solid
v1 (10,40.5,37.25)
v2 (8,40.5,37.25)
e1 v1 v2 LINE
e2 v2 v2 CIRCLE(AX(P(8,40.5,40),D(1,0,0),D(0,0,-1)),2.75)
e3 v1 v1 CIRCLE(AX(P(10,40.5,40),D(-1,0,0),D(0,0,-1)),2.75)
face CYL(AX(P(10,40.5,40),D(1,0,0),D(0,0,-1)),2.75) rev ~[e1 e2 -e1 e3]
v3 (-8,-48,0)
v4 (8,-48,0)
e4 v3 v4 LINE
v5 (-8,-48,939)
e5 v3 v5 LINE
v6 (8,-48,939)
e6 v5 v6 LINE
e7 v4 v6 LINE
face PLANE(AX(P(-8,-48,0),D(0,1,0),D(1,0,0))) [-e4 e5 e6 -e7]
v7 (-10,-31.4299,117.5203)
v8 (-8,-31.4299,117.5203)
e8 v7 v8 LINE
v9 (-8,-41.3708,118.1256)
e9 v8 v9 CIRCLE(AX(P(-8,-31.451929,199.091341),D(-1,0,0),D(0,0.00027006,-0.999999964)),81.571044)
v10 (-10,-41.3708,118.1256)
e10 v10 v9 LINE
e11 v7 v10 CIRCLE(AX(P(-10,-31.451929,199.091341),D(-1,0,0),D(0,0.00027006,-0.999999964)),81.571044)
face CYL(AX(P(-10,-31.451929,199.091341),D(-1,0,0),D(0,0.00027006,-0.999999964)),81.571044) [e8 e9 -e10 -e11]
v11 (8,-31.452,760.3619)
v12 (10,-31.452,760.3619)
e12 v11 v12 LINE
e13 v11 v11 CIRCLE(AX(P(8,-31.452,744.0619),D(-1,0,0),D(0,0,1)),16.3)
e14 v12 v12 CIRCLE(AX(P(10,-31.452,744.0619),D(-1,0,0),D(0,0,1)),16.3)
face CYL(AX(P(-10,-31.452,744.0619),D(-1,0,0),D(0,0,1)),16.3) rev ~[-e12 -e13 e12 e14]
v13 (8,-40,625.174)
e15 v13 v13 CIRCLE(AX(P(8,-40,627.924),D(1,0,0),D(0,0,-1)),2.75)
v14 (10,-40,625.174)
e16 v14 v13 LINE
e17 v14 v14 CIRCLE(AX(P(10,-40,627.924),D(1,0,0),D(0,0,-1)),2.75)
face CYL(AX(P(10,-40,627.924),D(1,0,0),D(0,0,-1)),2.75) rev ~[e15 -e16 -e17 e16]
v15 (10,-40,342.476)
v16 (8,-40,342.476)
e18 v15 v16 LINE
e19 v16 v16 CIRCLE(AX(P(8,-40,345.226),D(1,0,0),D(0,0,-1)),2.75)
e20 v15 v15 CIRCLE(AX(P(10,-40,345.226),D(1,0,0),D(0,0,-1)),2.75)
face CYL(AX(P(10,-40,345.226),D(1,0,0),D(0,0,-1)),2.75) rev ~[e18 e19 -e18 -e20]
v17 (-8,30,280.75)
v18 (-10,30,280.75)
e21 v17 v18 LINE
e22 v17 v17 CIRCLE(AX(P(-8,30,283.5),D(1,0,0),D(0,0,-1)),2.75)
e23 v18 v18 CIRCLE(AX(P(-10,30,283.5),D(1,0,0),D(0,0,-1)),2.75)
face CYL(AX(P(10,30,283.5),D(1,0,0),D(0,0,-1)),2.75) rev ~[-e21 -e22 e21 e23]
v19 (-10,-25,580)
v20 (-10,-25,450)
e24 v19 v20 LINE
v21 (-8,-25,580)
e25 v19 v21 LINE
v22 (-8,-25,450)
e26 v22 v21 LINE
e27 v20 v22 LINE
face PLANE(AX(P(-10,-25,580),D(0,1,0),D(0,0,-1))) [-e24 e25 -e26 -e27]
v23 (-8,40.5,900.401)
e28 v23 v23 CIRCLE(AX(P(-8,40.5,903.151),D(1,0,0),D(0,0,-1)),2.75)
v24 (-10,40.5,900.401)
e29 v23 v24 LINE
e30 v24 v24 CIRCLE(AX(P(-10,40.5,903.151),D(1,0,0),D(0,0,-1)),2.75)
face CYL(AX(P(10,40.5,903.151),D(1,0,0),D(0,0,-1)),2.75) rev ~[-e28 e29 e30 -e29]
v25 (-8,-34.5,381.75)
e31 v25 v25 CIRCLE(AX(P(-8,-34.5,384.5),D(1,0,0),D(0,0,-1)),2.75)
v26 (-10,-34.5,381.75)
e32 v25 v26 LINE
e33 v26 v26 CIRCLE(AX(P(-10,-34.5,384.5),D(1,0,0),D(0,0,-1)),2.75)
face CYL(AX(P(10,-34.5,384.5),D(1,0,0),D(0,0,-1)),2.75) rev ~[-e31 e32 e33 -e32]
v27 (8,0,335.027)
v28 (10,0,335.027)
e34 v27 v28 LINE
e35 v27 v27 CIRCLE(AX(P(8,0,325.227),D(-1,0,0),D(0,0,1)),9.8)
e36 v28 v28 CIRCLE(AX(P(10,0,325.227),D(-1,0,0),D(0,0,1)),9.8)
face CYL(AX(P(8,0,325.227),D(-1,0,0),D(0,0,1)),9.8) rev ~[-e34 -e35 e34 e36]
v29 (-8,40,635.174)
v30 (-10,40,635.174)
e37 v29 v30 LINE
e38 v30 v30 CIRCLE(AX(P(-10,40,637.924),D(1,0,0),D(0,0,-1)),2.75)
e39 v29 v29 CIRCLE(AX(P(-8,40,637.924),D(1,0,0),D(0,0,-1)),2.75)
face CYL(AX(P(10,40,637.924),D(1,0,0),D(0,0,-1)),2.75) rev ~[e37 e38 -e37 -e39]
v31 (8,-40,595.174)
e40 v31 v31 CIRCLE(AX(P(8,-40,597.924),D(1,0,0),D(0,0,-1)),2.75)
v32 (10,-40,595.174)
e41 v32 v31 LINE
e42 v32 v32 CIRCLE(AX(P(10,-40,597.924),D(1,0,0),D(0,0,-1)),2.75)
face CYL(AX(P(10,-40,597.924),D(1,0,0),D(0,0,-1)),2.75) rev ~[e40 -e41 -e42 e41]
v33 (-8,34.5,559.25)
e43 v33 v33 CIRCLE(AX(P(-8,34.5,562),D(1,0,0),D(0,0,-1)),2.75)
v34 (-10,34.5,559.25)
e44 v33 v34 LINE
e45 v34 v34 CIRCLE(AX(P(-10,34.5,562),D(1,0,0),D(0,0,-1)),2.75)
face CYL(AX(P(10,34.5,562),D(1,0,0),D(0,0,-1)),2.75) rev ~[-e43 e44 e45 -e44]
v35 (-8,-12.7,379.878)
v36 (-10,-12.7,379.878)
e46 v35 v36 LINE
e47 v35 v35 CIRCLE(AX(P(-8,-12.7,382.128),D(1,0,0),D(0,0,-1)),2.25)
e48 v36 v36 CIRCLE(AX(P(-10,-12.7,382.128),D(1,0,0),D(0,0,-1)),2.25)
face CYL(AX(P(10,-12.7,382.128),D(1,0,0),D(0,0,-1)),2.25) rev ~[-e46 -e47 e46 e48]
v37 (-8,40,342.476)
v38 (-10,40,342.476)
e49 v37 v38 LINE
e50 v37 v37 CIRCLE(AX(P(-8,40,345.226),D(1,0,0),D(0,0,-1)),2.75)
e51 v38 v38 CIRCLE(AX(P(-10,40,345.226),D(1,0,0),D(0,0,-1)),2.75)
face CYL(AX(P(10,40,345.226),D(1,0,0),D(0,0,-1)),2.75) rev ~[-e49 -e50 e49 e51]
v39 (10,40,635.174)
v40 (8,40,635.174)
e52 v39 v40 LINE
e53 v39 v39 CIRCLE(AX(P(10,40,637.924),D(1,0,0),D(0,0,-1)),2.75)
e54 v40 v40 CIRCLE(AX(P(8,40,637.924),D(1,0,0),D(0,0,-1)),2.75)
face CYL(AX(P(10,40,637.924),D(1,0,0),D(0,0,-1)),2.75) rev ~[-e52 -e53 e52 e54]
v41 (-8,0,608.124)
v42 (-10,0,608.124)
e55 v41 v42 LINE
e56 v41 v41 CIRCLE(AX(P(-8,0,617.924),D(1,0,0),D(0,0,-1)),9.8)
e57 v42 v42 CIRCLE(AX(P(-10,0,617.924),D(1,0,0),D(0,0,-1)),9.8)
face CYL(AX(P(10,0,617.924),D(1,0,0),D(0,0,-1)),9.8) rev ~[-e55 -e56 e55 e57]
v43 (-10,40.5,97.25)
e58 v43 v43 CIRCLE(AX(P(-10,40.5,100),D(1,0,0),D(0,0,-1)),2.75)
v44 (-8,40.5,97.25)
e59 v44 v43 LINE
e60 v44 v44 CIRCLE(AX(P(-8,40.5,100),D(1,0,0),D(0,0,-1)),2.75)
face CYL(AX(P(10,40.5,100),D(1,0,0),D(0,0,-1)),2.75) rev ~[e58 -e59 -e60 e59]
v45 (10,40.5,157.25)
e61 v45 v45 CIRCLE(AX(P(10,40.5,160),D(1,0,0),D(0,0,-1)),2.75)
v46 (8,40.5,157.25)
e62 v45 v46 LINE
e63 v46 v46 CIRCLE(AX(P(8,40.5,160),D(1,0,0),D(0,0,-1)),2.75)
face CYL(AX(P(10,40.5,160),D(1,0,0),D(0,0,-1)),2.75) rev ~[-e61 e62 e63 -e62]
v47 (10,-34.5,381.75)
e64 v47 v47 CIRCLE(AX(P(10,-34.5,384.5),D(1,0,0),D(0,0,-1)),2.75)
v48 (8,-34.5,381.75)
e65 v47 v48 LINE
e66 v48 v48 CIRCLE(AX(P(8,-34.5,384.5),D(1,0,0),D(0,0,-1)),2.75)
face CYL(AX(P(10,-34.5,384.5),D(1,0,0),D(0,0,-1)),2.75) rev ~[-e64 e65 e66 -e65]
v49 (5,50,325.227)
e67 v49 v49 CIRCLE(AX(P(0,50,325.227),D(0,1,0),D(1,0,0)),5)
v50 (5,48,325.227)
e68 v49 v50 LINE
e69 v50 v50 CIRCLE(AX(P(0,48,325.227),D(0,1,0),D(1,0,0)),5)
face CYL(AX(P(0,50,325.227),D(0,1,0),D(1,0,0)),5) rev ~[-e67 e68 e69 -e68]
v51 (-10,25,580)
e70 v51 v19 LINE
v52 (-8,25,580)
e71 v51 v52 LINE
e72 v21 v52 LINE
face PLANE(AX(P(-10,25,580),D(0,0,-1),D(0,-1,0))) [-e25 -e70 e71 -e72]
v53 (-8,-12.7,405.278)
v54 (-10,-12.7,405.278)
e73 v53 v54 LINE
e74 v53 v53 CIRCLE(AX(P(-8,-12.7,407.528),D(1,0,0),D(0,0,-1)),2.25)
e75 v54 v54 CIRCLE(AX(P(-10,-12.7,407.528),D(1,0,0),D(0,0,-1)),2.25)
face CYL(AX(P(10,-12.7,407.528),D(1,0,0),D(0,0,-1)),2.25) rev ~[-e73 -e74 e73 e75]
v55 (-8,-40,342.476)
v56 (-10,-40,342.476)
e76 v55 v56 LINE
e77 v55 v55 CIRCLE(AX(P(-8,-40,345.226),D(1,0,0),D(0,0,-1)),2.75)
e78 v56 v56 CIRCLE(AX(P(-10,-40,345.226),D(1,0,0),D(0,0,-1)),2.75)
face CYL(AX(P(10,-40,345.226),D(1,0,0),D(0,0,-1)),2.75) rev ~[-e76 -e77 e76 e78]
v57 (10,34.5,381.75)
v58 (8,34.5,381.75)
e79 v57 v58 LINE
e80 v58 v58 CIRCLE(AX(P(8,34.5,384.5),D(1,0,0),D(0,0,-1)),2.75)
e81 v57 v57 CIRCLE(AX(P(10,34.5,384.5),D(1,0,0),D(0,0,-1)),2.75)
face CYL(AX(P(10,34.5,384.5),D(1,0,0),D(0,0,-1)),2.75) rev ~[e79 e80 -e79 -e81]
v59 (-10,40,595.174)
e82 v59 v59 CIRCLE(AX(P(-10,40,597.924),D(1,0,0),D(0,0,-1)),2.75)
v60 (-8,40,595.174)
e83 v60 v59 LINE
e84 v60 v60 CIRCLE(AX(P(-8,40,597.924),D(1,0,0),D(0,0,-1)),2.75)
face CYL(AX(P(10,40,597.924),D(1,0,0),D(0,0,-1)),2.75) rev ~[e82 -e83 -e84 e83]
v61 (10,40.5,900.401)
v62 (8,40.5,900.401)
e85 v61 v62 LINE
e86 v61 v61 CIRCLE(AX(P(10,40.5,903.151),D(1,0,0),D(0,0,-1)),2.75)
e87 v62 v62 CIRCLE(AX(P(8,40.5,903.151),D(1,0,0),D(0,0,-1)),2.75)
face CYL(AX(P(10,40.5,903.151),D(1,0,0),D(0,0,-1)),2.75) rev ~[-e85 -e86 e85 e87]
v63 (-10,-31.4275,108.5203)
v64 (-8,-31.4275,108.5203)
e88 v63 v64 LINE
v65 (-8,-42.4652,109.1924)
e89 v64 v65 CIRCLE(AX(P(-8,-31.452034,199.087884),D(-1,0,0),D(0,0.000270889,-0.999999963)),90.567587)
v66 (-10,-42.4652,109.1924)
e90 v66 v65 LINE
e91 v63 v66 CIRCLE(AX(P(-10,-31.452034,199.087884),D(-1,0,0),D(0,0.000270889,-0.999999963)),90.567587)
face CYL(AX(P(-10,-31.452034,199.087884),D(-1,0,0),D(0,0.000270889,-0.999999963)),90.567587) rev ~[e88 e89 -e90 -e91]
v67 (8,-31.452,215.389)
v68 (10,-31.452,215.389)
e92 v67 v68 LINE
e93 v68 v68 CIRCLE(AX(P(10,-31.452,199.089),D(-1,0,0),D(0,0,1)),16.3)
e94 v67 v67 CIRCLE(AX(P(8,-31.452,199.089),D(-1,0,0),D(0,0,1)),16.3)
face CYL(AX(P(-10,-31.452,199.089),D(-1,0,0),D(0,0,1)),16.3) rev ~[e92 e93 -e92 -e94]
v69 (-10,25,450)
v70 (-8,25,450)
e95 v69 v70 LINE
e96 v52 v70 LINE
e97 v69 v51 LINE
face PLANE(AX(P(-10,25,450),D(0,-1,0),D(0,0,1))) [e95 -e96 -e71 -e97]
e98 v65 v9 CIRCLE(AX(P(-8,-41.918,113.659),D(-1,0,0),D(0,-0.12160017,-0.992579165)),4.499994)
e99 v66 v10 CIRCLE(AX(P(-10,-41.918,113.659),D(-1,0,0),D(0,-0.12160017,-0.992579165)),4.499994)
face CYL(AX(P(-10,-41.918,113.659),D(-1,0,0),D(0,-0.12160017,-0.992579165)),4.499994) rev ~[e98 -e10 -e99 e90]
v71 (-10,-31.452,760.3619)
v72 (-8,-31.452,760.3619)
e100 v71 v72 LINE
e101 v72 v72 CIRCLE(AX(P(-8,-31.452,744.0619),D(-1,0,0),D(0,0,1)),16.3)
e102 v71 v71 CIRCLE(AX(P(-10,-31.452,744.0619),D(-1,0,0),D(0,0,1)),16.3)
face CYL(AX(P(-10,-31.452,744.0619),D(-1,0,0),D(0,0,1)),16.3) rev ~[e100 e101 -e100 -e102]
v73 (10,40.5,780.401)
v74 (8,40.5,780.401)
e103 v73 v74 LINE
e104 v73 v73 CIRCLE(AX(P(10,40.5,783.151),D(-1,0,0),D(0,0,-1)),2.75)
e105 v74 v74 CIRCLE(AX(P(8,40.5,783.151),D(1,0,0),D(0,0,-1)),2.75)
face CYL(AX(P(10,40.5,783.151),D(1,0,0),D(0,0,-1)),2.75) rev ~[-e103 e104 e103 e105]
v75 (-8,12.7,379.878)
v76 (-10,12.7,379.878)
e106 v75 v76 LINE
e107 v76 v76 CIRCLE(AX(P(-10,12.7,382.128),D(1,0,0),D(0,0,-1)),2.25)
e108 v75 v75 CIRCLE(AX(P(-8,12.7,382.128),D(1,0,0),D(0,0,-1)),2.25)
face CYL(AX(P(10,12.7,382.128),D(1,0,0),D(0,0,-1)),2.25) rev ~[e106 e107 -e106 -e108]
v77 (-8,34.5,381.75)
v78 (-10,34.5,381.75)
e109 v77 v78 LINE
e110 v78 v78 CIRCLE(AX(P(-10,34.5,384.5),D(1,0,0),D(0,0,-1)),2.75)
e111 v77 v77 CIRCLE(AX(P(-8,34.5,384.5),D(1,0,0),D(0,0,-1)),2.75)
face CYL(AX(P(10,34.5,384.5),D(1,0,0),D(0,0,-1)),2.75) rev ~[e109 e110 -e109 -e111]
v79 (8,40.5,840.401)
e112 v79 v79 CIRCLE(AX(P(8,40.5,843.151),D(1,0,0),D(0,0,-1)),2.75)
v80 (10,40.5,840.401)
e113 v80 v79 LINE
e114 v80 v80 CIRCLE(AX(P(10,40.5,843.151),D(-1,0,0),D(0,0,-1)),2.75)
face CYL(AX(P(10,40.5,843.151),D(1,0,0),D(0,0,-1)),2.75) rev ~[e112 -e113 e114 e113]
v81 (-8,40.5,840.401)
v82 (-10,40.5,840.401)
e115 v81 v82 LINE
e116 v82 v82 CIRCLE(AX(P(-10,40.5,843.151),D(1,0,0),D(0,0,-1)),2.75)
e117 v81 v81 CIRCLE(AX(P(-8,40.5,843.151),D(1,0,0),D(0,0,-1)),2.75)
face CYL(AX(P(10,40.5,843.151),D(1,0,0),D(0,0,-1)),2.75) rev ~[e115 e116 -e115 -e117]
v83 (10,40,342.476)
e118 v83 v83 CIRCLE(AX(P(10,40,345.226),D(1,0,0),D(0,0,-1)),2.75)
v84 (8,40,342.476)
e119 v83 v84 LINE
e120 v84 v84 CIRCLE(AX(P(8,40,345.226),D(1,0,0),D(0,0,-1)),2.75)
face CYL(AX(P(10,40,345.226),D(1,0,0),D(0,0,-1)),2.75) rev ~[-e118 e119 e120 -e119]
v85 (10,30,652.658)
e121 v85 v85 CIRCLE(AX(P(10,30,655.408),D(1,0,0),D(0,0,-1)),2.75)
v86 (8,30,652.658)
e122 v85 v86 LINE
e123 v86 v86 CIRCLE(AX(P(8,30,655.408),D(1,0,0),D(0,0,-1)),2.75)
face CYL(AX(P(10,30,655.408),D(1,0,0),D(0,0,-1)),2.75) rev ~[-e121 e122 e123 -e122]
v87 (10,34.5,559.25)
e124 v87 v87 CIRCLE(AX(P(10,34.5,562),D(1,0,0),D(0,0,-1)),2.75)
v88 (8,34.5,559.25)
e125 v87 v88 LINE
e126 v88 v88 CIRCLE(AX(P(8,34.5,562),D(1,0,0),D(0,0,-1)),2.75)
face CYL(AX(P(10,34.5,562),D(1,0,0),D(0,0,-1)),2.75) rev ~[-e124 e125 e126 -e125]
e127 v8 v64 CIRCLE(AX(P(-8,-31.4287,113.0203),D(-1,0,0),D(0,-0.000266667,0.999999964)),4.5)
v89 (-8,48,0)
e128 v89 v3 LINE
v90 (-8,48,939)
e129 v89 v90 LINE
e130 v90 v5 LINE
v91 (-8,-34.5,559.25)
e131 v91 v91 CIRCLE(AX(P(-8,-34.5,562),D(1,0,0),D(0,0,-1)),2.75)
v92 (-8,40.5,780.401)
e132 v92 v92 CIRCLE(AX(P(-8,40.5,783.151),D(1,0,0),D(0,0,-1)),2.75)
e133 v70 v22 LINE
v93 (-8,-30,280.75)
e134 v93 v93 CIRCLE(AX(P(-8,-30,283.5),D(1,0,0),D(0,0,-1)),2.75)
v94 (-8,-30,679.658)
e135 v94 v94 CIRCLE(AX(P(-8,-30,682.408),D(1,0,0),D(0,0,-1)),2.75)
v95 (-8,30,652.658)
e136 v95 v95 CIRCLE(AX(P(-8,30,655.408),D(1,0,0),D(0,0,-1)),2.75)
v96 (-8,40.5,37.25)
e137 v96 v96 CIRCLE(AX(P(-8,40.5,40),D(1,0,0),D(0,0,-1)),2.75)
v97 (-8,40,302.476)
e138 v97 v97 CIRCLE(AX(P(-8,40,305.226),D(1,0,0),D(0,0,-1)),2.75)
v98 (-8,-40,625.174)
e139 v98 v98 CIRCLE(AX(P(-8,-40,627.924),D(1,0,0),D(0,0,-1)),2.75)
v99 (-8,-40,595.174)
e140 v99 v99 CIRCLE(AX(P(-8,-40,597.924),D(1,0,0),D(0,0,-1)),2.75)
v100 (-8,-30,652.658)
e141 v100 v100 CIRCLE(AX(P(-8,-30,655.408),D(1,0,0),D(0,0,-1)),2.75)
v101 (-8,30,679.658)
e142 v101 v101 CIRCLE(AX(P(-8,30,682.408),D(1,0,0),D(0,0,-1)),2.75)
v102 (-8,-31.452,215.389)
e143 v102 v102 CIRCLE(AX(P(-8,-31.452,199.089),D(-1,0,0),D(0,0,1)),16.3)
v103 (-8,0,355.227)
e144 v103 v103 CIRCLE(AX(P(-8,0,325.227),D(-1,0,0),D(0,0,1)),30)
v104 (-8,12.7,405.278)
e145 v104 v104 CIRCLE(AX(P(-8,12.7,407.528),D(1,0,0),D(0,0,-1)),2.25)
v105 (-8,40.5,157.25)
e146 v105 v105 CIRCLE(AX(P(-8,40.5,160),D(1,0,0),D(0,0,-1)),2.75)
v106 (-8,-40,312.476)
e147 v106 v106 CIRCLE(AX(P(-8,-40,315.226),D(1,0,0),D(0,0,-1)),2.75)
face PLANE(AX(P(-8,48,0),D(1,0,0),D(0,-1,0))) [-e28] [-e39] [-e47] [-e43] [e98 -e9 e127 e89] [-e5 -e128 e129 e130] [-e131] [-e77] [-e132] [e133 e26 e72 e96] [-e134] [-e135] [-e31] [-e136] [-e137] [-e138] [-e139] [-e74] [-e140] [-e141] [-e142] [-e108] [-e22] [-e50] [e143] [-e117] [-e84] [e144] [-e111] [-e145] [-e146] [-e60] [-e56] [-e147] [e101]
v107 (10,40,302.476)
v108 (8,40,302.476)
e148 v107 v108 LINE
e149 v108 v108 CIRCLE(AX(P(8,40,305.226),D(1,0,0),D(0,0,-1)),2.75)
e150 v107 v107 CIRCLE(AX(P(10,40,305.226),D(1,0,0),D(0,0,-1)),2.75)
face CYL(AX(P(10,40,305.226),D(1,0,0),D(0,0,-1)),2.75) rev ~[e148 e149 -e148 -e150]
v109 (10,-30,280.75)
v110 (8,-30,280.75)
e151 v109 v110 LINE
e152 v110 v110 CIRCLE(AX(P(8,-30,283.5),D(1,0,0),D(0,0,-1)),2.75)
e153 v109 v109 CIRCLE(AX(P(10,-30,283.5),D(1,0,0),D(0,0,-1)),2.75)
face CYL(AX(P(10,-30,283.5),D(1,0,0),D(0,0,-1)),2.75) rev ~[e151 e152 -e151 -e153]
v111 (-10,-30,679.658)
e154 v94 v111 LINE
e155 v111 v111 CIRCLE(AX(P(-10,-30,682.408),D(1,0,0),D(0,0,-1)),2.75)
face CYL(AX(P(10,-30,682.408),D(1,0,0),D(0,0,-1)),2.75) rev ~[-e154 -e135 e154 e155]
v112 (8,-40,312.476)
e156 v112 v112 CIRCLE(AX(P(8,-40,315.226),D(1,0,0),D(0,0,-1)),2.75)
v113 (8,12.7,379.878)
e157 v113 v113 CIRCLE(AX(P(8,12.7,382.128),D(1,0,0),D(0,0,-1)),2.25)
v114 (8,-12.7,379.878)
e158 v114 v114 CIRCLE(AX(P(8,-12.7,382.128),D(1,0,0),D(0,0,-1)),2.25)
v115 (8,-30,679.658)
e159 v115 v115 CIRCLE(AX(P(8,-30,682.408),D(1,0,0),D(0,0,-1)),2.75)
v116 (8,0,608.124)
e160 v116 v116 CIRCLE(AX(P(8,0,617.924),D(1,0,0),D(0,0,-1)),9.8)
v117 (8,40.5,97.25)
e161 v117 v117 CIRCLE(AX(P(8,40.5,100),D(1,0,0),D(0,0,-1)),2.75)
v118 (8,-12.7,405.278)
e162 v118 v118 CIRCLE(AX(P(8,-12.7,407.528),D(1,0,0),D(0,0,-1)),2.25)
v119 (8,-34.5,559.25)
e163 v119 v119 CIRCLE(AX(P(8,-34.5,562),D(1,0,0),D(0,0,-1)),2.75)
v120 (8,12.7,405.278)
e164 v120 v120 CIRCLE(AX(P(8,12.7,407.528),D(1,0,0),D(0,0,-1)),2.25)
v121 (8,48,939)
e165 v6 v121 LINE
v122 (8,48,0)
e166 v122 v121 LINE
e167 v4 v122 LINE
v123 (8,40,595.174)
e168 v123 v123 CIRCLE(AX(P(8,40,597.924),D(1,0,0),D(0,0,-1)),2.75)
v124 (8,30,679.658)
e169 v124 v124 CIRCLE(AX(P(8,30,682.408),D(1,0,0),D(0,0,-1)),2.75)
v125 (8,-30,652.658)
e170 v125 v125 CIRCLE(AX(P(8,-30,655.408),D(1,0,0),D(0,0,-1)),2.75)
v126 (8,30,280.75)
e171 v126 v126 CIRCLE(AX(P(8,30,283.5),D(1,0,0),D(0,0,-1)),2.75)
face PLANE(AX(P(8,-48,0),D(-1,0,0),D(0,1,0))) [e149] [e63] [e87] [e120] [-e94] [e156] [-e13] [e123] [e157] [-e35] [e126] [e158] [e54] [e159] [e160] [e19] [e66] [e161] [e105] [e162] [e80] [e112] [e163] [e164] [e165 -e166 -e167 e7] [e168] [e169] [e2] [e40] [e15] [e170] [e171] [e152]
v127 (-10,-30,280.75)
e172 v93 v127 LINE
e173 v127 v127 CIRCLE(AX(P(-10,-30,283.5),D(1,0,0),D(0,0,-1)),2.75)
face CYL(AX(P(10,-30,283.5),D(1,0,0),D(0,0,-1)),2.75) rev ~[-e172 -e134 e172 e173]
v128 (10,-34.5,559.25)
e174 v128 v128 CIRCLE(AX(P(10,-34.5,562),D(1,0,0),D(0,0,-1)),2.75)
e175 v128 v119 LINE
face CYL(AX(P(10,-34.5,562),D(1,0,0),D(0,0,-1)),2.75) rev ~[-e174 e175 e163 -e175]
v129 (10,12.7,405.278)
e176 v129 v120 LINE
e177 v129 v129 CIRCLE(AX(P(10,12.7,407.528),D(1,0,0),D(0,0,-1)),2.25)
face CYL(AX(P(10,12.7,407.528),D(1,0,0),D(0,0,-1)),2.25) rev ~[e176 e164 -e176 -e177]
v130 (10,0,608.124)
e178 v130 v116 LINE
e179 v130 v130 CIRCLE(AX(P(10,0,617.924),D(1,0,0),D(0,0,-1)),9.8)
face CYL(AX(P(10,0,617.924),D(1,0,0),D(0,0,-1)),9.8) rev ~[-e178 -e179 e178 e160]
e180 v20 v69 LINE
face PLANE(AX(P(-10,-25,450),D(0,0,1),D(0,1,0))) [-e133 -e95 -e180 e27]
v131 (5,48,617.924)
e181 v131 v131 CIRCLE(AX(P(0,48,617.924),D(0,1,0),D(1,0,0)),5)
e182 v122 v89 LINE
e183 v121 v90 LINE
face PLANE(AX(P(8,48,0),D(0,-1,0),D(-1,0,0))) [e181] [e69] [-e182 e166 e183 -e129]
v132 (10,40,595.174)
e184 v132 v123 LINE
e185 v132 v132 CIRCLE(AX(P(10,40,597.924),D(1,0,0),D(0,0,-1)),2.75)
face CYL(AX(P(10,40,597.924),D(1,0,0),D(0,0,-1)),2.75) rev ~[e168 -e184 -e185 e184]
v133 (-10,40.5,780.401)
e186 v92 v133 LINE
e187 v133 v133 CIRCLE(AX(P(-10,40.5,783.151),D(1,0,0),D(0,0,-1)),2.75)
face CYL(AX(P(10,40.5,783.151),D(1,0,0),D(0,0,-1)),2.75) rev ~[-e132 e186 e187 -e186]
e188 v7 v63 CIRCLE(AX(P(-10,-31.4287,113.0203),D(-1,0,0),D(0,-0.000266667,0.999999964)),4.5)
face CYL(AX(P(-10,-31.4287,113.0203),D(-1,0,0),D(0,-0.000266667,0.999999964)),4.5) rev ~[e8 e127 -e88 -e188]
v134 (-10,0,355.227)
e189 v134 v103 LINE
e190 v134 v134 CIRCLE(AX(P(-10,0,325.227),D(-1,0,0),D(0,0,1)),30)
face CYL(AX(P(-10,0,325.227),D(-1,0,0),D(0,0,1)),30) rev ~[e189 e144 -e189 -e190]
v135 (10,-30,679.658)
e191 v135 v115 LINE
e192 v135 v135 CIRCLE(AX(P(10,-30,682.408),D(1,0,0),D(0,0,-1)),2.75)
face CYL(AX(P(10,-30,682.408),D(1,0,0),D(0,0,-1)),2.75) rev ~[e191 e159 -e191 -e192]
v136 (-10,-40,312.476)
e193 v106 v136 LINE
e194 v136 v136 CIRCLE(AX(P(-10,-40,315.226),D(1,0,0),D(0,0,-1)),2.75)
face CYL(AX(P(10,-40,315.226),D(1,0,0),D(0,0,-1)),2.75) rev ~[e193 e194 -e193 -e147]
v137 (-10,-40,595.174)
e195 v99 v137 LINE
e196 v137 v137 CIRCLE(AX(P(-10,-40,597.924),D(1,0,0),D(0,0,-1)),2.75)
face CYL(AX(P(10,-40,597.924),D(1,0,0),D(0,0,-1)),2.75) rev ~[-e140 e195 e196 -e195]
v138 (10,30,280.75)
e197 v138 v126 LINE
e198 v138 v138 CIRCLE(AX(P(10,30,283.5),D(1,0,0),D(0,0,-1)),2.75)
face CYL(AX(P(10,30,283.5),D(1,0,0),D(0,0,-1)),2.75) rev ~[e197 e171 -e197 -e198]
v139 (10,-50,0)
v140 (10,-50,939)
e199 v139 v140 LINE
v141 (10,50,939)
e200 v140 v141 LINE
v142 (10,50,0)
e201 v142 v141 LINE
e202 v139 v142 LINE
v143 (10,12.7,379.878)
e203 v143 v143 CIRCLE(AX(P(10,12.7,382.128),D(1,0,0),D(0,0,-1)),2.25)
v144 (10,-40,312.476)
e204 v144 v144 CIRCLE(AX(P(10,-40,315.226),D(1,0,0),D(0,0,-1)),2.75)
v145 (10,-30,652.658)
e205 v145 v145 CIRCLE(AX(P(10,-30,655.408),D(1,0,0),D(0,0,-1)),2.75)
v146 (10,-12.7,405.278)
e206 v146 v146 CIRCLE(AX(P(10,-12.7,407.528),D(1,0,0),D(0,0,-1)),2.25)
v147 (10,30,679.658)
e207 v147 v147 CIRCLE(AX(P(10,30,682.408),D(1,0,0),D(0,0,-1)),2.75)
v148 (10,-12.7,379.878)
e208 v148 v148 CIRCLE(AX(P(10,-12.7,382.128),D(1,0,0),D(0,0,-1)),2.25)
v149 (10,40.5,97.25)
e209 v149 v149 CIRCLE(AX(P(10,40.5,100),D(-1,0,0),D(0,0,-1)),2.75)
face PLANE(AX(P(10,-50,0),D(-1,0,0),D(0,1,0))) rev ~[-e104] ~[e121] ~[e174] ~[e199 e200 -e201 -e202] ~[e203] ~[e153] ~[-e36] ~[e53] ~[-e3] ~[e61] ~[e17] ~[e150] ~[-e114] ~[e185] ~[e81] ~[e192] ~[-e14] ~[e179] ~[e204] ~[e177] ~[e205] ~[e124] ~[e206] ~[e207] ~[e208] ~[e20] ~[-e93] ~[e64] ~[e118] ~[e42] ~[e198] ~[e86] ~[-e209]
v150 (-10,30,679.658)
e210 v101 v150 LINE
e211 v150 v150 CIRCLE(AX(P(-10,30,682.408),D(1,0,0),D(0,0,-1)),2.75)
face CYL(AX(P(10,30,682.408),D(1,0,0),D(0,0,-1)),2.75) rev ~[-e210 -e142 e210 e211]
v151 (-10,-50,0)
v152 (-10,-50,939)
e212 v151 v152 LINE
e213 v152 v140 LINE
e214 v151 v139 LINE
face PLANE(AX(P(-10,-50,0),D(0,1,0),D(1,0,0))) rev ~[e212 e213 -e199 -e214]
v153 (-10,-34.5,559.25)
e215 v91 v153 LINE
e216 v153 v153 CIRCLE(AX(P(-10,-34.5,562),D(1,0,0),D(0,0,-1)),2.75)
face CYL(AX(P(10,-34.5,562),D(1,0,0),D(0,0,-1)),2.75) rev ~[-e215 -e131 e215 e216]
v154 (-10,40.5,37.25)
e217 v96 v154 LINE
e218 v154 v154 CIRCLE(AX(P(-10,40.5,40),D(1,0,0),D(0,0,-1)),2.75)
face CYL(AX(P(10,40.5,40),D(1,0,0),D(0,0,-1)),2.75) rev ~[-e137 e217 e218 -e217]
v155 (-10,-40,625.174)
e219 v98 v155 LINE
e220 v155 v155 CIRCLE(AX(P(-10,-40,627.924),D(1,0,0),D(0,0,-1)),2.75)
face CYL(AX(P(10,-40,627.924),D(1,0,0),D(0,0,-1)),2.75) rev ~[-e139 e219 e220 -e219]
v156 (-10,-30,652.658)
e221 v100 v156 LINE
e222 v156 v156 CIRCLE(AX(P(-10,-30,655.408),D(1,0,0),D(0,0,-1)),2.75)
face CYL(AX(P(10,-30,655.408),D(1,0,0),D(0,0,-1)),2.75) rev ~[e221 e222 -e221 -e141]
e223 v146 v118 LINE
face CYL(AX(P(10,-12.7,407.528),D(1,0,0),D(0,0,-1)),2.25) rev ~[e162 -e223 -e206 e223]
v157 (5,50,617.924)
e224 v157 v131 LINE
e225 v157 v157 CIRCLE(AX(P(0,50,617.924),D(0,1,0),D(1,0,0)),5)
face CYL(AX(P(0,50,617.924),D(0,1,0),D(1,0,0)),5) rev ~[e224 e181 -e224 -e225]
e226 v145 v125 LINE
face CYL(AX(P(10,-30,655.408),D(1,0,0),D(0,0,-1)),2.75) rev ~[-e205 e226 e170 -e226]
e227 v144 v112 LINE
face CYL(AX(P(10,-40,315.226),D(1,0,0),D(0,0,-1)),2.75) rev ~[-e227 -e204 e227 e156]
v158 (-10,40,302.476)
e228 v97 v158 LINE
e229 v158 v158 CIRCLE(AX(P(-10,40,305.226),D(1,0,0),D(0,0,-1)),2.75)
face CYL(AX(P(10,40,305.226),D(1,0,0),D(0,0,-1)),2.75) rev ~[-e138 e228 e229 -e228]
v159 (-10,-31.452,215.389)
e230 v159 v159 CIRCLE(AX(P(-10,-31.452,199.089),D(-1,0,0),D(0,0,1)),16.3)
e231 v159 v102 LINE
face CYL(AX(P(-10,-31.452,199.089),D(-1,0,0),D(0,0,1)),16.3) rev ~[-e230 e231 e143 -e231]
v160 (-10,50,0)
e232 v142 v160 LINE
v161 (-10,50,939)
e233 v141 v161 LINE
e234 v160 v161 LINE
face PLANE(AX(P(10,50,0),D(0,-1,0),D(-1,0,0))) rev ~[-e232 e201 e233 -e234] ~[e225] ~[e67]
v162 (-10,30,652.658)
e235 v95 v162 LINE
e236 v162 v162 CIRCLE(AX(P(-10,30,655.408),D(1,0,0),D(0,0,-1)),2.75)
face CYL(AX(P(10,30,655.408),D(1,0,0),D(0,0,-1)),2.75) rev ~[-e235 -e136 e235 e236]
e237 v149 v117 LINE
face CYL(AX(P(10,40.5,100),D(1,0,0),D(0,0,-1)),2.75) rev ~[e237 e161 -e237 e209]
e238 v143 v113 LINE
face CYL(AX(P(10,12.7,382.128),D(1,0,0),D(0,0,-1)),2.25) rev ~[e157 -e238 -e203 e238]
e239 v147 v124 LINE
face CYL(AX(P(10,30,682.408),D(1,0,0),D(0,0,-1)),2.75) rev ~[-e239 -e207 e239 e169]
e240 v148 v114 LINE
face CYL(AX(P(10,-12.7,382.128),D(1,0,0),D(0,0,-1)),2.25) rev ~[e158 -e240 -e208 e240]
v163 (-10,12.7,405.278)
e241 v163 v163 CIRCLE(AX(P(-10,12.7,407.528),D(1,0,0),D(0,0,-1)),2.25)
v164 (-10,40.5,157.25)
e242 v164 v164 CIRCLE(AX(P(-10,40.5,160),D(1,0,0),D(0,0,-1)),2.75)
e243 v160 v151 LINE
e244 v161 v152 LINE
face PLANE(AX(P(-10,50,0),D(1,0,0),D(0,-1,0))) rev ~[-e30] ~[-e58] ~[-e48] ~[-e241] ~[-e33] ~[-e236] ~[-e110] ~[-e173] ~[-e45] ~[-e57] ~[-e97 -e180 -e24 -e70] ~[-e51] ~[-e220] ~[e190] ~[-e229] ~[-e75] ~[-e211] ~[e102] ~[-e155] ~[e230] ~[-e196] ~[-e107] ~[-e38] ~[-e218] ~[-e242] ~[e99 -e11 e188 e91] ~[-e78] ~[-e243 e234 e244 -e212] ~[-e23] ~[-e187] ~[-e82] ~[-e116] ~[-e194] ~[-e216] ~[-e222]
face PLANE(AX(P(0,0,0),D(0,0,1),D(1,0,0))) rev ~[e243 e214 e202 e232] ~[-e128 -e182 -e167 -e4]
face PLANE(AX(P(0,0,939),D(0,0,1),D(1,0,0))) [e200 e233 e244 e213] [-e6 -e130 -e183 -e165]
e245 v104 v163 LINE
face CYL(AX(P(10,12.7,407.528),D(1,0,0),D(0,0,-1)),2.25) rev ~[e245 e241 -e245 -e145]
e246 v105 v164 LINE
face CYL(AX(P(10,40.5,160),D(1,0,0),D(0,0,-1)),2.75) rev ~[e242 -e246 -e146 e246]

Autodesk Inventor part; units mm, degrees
ref_plane "YZ Plane" through (0, 0, 0) normal (1, 0, 0) x (0, 1, 0)
ref_plane "XZ Plane" through (0, 0, 0) normal (0, 1, 0) x (-1, 0, 0)
ref_plane "XY Plane" through (0, 0, 0) normal (0, 0, 1) x (1, 0, 0)
sketch "Sketch1" plane through (0, 0, 0) normal (0, 0, 1) x (1, 0, 0)
  line L0 (-10, -50) -> (10, -50)
  line L1 (10, -50) -> (10, 50)
  line L2 (10, 50) -> (-10, 50)
  line L3 (-10, 50) -> (-10, -50)
  line L4 (-10, -50) -> (10, 50) construction
  line L5 (10, -50) -> (-10, 50) construction
  line L6 (-8, -48) -> (8, -48)
  line L7 (8, -48) -> (8, 48)
  line L8 (8, 48) -> (-8, 48)
  line L9 (-8, 48) -> (-8, -48)
  line L10 (-8, -48) -> (8, 48) construction
  line L11 (8, -48) -> (-8, 48) construction
  point P0 (0, 0)
  dimension "d0" = 20
  dimension "d1" = 100
  dimension "d2" = 16
  dimension "d3" = 96
extrude "Extrusion1" add sketch "Sketch1" along normal blind 939
sketch "Sketch2" plane through (-10, -50, 0) normal (-1, 0, 0) x (0, 0, 1)
  circle A0 centre (199.089, 18.548) radius 16.3
  line L0 (0, 100) -> (939, 100) projected
  line L1 (0, 100) -> (0, 0) projected
  line L2 (0, 0) -> (939, 0) projected
  point P0 (0, 50)
  dimension "d6" = 32.6
  dimension "HoleDistanceX" = 199.089
  dimension "d11" = 18.548
extrude "Extrusion2" cut sketch "Sketch2" against normal blind 880
sketch "Sketch4" plane through (-10, -50, 0) normal (-1, 0, 0) x (0, 0, 1)
  circle A0 centre (113.659, 8.082) radius 4.5 construction
  circle A1 centre (199.089, 18.548) radius 12.25 construction
  line L0 (199.089, 18.548) -> (113.659, 8.082) construction
  line L1 (199.089, 18.548) -> (113.0203, 18.5713) construction
  circle A2 centre (113.0203, 18.5713) radius 4.5 construction
  arc A3 (113.0203, 18.5713) -> (113.659, 8.082) centre (199.089, 18.548) ccw construction
  arc A4 (113.0203, 18.5713) -> (113.659, 8.082) centre (199.089, 18.548) ccw construction
  arc A5 (108.5203, 18.5725) -> (109.1924, 7.5348) centre (199.089, 18.548) ccw
  arc A6 (117.5203, 18.5701) -> (118.1256, 8.6292) centre (199.089, 18.548) ccw
  arc A7 (117.5203, 18.5701) -> (108.5203, 18.5725) centre (113.0203, 18.5713) ccw
  arc A8 (109.1924, 7.5348) -> (118.1256, 8.6292) centre (113.659, 8.082) ccw
  line L2 (0, 0) -> (939, 0) projected
  line L3 (0, 100) -> (0, 0) projected
  point P0 (0, 50)
  dimension "d12" = 9
  dimension "d13" = 9
  dimension "d14" = 9
  dimension "d15" = 7
  dimension "d16" = 8.082
  dimension "d17" = 113.659
extrude "Extrusion3" cut sketch "Sketch4" against normal blind 3
sketch "Sketch5" plane through (-10, -50, 0) normal (-1, 0, 0) x (0, 0, 1)
  circle A0 centre (325.227, 50) radius 30
  line L0 (0, 100) -> (0, 0) projected
  line L1 (0, 0) -> (939, 0) projected
  point P0 (0, 50)
  dimension "d20" = 60
  dimension "d21" = 325.227
  dimension "d22" = 50
extrude "Extrusion4" cut sketch "Sketch5" against normal blind 3
sketch "Sketch6" plane through (-10, -50, 0) normal (-1, 0, 0) x (0, 0, 1)
  line L0 (450, 75) -> (580, 75)
  line L1 (580, 75) -> (580, 25)
  line L2 (580, 25) -> (450, 25)
  line L3 (450, 25) -> (450, 75)
  line L4 (0, 100) -> (939, 100) projected
  line L5 (0, 100) -> (0, 0) projected
  point P0 (0, 50)
  dimension "d25" = 50
  dimension "d26" = 25
  dimension "d27" = 580
  dimension "d28" = 450
extrude "Extrusion5" cut sketch "Sketch6" against normal blind 3
sketch "Sketch7" plane through (8, -48, 0) normal (-1, 0, 0) x (0, 0, 1)
  circle A0 centre (325.227, 48) radius 30 projected
  circle A1 centre (325.227, 48) radius 9.8
  point P0 (0, 48)
  dimension "d31" = 19.6
extrude "Extrusion6" cut sketch "Sketch7" against normal through all contours A1
sketch "Sketch8" plane through (10, -50, 0) normal (1, 0, 0) x (0, 0, -1)
  circle A0 centre (-382.128, 62.7) radius 2.25
  line L0 (0, 100) -> (-939, 100) projected
  line L1 (0, 0) -> (0, 100) projected
  circle A1 centre (-382.128, 37.3) radius 2.25
  line L2 (0, 0) -> (-939, 0) projected
  circle A2 centre (-407.528, 62.7) radius 2.25
  circle A3 centre (-407.528, 37.3) radius 2.25
  point P0 (0, 50)
  dimension "d34" = 4.5
  dimension "d35" = 37.3
  dimension "d36" = 382.128
  dimension "d37" = 4.5
  dimension "d38" = 37.3
  dimension "d39" = 382.128
  dimension "d40" = 4.5
  dimension "d41" = 407.528
  dimension "d42" = 37.3
  dimension "d43" = 4.5
  dimension "d44" = 37.3
  dimension "d45" = 407.528
extrude "Extrusion7" cut sketch "Sketch8" against normal blind 21.1125
sketch "Sketch9" plane through (10, -50, 0) normal (1, 0, 0) x (0, 0, -1)
  circle A0 centre (-617.924, 50) radius 9.8
  line L0 (0, 100) -> (-939, 100) projected
  line L1 (0, 0) -> (0, 100) projected
  circle A1 centre (-655.408, 80) radius 2.75
  circle A2 centre (-655.408, 20) radius 2.75
  line L2 (0, 0) -> (-939, 0) projected
  circle A3 centre (-562, 84.5) radius 2.75
  circle A4 centre (-562, 15.5) radius 2.75
  circle A5 centre (-283.5, 20) radius 2.75
  circle A6 centre (-283.5, 80) radius 2.75
  circle A7 centre (-384.5, 84.5) radius 2.75
  circle A8 centre (-384.5, 15.5) radius 2.75
  circle A9 centre (-40, 90.5) radius 2.75
  line L3 (-40, 90.5) -> (-160, 90.5)
  line L4 (-40, 90.5) -> (80, 90.5) construction
  circle A10 centre (-160, 90.5) radius 2.75
  circle A11 centre (-100, 90.5) radius 2.75
  circle A12 centre (-903.151, 90.5) radius 2.75
  line L5 (-939, 0) -> (-939, 100) projected
  line L6 (-903.151, 90.5) -> (-843.151, 90.5)
  line L7 (-903.151, 90.5) -> (-843.151, 90.5) construction
  circle A13 centre (-843.151, 90.5) radius 2.75
  line L8 (-843.151, 90.5) -> (-783.151, 90.5)
  line L9 (-843.151, 90.5) -> (-783.151, 90.5) construction
  circle A14 centre (-783.151, 90.5) radius 2.75
  circle A15 centre (-637.924, 90) radius 2.75
  circle A16 centre (-597.924, 90) radius 2.75
  circle A17 centre (-627.924, 10) radius 2.75
  circle A18 centre (-597.924, 10) radius 2.75
  circle A19 centre (-345.226, 90) radius 2.75
  circle A20 centre (-305.226, 90) radius 2.75
  circle A21 centre (-315.226, 10) radius 2.75
  circle A22 centre (-345.226, 10) radius 2.75
  circle A23 centre (-682.408, 80) radius 2.75
  circle A24 centre (-682.408, 20) radius 2.75
  point P0 (0, 50)
  dimension "d48" = 19.6
  dimension "d49" = 50
  dimension "d50" = 617.924
  dimension "d53" = 5.5
  dimension "d54" = 5.5
  dimension "d55" = 20
  dimension "d56" = 20
  dimension "d57" = 655.408
  dimension "d58" = 655.408
  dimension "d60" = 5.5
  dimension "d61" = 5.5
  dimension "d62" = 15.5
  dimension "d63" = 15.5
  dimension "d64" = 562
  dimension "d65" = 562
  dimension "d66" = 5.5
  dimension "d67" = 5.5
  dimension "d68" = 283.5
  dimension "d69" = 283.5
  dimension "d70" = 20
  dimension "d71" = 20
  dimension "d72" = 5.5
  dimension "d73" = 384.5
  dimension "d74" = 15.5
  dimension "d75" = 5.5
  dimension "d76" = 384.5
  dimension "d77" = 15.5
  dimension "d92" = 5.5
  dimension "d93" = 40
  dimension "d94" = 9.5
  dimension "d95" = 120
  dimension "d96" = 180
  dimension "d97" = 5.5
  dimension "d98" = 5.5
  dimension "d99" = 60
  dimension "d100" = 5.5
  dimension "d101" = 35.849
  dimension "d102" = 9.5
  dimension "d103" = 60
  dimension "d104" = 0
  dimension "d105" = 5.5
  dimension "d106" = 60
  dimension "d107" = 0
  dimension "d108" = 5.5
  dimension "d109" = 5.5
  dimension "d110" = 301.076
  dimension "d111" = 10
  dimension "d112" = 5.5
  dimension "d113" = 10
  dimension "d114" = 40
  dimension "d115" = 5.5
  dimension "d116" = 10
  dimension "d117" = 5.5
  dimension "d118" = 10
  dimension "d119" = 40
  dimension "d120" = 30
  dimension "d121" = 5.5
  dimension "d122" = 10
  dimension "d123" = 345.226
  dimension "d124" = 5.5
  dimension "d125" = 40
  dimension "d126" = 10
  dimension "d127" = 5.5
  dimension "d128" = 80
extrude "Extrusion8" cut sketch "Sketch9" against normal blind 37.625 contours A0 | A1 | A2 | A3 | A4 | A5 | A6 | A7 | A8 | A9 | A10 | A11 L3 | L3 A11 | A12 | A14 | A13 L8 L6 | L6 L8 A13 | A15 | A16 | A17 | A18 | A19 | A20 | A21 | A22 | A23 | A24
sketch "Sketch10" plane through (-10, -50, 0) normal (-1, 0, 0) x (0, 0, 1)
  circle A0 centre (744.0619, 18.548) radius 16.3
  line L0 (0, 0) -> (939, 0) projected
  circle A1 centre (199.089, 18.548) radius 16.3 projected
  circle A2 centre (617.924, 50) radius 9.8 projected
  point P0 (0, 50)
  dimension "d78" = 32.6
  dimension "d79" = 18.548
  dimension "d83" = 126.1379
extrude "Extrusion9" cut sketch "Sketch10" against normal through all contours A0
sketch "Sketch11" plane through (-10, 50, 0) normal (0, 1, 0) x (1, 0, 0)
  circle A0 centre (10, -325.227) radius 5
  line L0 (20, 0) -> (0, 0) projected
  line L1 (20, 0) -> (20, -939) projected
  circle A1 centre (10, -617.924) radius 5
  line L2 (20, -939) -> (0, -939) projected
  line L3 (0, 0) -> (0, -939) projected
  point P0 (10, 0)
  dimension "d84" = 10
  dimension "d85" = 325.227
  dimension "d86" = 10
  dimension "d87" = 10
  dimension "d88" = 321.076
  dimension "d89" = 10
extrude "Extrusion10" cut sketch "Sketch11" against normal blind 10 contours A0 | A1
properties part number "Side Extrusion" material "Aluminum 6061"
